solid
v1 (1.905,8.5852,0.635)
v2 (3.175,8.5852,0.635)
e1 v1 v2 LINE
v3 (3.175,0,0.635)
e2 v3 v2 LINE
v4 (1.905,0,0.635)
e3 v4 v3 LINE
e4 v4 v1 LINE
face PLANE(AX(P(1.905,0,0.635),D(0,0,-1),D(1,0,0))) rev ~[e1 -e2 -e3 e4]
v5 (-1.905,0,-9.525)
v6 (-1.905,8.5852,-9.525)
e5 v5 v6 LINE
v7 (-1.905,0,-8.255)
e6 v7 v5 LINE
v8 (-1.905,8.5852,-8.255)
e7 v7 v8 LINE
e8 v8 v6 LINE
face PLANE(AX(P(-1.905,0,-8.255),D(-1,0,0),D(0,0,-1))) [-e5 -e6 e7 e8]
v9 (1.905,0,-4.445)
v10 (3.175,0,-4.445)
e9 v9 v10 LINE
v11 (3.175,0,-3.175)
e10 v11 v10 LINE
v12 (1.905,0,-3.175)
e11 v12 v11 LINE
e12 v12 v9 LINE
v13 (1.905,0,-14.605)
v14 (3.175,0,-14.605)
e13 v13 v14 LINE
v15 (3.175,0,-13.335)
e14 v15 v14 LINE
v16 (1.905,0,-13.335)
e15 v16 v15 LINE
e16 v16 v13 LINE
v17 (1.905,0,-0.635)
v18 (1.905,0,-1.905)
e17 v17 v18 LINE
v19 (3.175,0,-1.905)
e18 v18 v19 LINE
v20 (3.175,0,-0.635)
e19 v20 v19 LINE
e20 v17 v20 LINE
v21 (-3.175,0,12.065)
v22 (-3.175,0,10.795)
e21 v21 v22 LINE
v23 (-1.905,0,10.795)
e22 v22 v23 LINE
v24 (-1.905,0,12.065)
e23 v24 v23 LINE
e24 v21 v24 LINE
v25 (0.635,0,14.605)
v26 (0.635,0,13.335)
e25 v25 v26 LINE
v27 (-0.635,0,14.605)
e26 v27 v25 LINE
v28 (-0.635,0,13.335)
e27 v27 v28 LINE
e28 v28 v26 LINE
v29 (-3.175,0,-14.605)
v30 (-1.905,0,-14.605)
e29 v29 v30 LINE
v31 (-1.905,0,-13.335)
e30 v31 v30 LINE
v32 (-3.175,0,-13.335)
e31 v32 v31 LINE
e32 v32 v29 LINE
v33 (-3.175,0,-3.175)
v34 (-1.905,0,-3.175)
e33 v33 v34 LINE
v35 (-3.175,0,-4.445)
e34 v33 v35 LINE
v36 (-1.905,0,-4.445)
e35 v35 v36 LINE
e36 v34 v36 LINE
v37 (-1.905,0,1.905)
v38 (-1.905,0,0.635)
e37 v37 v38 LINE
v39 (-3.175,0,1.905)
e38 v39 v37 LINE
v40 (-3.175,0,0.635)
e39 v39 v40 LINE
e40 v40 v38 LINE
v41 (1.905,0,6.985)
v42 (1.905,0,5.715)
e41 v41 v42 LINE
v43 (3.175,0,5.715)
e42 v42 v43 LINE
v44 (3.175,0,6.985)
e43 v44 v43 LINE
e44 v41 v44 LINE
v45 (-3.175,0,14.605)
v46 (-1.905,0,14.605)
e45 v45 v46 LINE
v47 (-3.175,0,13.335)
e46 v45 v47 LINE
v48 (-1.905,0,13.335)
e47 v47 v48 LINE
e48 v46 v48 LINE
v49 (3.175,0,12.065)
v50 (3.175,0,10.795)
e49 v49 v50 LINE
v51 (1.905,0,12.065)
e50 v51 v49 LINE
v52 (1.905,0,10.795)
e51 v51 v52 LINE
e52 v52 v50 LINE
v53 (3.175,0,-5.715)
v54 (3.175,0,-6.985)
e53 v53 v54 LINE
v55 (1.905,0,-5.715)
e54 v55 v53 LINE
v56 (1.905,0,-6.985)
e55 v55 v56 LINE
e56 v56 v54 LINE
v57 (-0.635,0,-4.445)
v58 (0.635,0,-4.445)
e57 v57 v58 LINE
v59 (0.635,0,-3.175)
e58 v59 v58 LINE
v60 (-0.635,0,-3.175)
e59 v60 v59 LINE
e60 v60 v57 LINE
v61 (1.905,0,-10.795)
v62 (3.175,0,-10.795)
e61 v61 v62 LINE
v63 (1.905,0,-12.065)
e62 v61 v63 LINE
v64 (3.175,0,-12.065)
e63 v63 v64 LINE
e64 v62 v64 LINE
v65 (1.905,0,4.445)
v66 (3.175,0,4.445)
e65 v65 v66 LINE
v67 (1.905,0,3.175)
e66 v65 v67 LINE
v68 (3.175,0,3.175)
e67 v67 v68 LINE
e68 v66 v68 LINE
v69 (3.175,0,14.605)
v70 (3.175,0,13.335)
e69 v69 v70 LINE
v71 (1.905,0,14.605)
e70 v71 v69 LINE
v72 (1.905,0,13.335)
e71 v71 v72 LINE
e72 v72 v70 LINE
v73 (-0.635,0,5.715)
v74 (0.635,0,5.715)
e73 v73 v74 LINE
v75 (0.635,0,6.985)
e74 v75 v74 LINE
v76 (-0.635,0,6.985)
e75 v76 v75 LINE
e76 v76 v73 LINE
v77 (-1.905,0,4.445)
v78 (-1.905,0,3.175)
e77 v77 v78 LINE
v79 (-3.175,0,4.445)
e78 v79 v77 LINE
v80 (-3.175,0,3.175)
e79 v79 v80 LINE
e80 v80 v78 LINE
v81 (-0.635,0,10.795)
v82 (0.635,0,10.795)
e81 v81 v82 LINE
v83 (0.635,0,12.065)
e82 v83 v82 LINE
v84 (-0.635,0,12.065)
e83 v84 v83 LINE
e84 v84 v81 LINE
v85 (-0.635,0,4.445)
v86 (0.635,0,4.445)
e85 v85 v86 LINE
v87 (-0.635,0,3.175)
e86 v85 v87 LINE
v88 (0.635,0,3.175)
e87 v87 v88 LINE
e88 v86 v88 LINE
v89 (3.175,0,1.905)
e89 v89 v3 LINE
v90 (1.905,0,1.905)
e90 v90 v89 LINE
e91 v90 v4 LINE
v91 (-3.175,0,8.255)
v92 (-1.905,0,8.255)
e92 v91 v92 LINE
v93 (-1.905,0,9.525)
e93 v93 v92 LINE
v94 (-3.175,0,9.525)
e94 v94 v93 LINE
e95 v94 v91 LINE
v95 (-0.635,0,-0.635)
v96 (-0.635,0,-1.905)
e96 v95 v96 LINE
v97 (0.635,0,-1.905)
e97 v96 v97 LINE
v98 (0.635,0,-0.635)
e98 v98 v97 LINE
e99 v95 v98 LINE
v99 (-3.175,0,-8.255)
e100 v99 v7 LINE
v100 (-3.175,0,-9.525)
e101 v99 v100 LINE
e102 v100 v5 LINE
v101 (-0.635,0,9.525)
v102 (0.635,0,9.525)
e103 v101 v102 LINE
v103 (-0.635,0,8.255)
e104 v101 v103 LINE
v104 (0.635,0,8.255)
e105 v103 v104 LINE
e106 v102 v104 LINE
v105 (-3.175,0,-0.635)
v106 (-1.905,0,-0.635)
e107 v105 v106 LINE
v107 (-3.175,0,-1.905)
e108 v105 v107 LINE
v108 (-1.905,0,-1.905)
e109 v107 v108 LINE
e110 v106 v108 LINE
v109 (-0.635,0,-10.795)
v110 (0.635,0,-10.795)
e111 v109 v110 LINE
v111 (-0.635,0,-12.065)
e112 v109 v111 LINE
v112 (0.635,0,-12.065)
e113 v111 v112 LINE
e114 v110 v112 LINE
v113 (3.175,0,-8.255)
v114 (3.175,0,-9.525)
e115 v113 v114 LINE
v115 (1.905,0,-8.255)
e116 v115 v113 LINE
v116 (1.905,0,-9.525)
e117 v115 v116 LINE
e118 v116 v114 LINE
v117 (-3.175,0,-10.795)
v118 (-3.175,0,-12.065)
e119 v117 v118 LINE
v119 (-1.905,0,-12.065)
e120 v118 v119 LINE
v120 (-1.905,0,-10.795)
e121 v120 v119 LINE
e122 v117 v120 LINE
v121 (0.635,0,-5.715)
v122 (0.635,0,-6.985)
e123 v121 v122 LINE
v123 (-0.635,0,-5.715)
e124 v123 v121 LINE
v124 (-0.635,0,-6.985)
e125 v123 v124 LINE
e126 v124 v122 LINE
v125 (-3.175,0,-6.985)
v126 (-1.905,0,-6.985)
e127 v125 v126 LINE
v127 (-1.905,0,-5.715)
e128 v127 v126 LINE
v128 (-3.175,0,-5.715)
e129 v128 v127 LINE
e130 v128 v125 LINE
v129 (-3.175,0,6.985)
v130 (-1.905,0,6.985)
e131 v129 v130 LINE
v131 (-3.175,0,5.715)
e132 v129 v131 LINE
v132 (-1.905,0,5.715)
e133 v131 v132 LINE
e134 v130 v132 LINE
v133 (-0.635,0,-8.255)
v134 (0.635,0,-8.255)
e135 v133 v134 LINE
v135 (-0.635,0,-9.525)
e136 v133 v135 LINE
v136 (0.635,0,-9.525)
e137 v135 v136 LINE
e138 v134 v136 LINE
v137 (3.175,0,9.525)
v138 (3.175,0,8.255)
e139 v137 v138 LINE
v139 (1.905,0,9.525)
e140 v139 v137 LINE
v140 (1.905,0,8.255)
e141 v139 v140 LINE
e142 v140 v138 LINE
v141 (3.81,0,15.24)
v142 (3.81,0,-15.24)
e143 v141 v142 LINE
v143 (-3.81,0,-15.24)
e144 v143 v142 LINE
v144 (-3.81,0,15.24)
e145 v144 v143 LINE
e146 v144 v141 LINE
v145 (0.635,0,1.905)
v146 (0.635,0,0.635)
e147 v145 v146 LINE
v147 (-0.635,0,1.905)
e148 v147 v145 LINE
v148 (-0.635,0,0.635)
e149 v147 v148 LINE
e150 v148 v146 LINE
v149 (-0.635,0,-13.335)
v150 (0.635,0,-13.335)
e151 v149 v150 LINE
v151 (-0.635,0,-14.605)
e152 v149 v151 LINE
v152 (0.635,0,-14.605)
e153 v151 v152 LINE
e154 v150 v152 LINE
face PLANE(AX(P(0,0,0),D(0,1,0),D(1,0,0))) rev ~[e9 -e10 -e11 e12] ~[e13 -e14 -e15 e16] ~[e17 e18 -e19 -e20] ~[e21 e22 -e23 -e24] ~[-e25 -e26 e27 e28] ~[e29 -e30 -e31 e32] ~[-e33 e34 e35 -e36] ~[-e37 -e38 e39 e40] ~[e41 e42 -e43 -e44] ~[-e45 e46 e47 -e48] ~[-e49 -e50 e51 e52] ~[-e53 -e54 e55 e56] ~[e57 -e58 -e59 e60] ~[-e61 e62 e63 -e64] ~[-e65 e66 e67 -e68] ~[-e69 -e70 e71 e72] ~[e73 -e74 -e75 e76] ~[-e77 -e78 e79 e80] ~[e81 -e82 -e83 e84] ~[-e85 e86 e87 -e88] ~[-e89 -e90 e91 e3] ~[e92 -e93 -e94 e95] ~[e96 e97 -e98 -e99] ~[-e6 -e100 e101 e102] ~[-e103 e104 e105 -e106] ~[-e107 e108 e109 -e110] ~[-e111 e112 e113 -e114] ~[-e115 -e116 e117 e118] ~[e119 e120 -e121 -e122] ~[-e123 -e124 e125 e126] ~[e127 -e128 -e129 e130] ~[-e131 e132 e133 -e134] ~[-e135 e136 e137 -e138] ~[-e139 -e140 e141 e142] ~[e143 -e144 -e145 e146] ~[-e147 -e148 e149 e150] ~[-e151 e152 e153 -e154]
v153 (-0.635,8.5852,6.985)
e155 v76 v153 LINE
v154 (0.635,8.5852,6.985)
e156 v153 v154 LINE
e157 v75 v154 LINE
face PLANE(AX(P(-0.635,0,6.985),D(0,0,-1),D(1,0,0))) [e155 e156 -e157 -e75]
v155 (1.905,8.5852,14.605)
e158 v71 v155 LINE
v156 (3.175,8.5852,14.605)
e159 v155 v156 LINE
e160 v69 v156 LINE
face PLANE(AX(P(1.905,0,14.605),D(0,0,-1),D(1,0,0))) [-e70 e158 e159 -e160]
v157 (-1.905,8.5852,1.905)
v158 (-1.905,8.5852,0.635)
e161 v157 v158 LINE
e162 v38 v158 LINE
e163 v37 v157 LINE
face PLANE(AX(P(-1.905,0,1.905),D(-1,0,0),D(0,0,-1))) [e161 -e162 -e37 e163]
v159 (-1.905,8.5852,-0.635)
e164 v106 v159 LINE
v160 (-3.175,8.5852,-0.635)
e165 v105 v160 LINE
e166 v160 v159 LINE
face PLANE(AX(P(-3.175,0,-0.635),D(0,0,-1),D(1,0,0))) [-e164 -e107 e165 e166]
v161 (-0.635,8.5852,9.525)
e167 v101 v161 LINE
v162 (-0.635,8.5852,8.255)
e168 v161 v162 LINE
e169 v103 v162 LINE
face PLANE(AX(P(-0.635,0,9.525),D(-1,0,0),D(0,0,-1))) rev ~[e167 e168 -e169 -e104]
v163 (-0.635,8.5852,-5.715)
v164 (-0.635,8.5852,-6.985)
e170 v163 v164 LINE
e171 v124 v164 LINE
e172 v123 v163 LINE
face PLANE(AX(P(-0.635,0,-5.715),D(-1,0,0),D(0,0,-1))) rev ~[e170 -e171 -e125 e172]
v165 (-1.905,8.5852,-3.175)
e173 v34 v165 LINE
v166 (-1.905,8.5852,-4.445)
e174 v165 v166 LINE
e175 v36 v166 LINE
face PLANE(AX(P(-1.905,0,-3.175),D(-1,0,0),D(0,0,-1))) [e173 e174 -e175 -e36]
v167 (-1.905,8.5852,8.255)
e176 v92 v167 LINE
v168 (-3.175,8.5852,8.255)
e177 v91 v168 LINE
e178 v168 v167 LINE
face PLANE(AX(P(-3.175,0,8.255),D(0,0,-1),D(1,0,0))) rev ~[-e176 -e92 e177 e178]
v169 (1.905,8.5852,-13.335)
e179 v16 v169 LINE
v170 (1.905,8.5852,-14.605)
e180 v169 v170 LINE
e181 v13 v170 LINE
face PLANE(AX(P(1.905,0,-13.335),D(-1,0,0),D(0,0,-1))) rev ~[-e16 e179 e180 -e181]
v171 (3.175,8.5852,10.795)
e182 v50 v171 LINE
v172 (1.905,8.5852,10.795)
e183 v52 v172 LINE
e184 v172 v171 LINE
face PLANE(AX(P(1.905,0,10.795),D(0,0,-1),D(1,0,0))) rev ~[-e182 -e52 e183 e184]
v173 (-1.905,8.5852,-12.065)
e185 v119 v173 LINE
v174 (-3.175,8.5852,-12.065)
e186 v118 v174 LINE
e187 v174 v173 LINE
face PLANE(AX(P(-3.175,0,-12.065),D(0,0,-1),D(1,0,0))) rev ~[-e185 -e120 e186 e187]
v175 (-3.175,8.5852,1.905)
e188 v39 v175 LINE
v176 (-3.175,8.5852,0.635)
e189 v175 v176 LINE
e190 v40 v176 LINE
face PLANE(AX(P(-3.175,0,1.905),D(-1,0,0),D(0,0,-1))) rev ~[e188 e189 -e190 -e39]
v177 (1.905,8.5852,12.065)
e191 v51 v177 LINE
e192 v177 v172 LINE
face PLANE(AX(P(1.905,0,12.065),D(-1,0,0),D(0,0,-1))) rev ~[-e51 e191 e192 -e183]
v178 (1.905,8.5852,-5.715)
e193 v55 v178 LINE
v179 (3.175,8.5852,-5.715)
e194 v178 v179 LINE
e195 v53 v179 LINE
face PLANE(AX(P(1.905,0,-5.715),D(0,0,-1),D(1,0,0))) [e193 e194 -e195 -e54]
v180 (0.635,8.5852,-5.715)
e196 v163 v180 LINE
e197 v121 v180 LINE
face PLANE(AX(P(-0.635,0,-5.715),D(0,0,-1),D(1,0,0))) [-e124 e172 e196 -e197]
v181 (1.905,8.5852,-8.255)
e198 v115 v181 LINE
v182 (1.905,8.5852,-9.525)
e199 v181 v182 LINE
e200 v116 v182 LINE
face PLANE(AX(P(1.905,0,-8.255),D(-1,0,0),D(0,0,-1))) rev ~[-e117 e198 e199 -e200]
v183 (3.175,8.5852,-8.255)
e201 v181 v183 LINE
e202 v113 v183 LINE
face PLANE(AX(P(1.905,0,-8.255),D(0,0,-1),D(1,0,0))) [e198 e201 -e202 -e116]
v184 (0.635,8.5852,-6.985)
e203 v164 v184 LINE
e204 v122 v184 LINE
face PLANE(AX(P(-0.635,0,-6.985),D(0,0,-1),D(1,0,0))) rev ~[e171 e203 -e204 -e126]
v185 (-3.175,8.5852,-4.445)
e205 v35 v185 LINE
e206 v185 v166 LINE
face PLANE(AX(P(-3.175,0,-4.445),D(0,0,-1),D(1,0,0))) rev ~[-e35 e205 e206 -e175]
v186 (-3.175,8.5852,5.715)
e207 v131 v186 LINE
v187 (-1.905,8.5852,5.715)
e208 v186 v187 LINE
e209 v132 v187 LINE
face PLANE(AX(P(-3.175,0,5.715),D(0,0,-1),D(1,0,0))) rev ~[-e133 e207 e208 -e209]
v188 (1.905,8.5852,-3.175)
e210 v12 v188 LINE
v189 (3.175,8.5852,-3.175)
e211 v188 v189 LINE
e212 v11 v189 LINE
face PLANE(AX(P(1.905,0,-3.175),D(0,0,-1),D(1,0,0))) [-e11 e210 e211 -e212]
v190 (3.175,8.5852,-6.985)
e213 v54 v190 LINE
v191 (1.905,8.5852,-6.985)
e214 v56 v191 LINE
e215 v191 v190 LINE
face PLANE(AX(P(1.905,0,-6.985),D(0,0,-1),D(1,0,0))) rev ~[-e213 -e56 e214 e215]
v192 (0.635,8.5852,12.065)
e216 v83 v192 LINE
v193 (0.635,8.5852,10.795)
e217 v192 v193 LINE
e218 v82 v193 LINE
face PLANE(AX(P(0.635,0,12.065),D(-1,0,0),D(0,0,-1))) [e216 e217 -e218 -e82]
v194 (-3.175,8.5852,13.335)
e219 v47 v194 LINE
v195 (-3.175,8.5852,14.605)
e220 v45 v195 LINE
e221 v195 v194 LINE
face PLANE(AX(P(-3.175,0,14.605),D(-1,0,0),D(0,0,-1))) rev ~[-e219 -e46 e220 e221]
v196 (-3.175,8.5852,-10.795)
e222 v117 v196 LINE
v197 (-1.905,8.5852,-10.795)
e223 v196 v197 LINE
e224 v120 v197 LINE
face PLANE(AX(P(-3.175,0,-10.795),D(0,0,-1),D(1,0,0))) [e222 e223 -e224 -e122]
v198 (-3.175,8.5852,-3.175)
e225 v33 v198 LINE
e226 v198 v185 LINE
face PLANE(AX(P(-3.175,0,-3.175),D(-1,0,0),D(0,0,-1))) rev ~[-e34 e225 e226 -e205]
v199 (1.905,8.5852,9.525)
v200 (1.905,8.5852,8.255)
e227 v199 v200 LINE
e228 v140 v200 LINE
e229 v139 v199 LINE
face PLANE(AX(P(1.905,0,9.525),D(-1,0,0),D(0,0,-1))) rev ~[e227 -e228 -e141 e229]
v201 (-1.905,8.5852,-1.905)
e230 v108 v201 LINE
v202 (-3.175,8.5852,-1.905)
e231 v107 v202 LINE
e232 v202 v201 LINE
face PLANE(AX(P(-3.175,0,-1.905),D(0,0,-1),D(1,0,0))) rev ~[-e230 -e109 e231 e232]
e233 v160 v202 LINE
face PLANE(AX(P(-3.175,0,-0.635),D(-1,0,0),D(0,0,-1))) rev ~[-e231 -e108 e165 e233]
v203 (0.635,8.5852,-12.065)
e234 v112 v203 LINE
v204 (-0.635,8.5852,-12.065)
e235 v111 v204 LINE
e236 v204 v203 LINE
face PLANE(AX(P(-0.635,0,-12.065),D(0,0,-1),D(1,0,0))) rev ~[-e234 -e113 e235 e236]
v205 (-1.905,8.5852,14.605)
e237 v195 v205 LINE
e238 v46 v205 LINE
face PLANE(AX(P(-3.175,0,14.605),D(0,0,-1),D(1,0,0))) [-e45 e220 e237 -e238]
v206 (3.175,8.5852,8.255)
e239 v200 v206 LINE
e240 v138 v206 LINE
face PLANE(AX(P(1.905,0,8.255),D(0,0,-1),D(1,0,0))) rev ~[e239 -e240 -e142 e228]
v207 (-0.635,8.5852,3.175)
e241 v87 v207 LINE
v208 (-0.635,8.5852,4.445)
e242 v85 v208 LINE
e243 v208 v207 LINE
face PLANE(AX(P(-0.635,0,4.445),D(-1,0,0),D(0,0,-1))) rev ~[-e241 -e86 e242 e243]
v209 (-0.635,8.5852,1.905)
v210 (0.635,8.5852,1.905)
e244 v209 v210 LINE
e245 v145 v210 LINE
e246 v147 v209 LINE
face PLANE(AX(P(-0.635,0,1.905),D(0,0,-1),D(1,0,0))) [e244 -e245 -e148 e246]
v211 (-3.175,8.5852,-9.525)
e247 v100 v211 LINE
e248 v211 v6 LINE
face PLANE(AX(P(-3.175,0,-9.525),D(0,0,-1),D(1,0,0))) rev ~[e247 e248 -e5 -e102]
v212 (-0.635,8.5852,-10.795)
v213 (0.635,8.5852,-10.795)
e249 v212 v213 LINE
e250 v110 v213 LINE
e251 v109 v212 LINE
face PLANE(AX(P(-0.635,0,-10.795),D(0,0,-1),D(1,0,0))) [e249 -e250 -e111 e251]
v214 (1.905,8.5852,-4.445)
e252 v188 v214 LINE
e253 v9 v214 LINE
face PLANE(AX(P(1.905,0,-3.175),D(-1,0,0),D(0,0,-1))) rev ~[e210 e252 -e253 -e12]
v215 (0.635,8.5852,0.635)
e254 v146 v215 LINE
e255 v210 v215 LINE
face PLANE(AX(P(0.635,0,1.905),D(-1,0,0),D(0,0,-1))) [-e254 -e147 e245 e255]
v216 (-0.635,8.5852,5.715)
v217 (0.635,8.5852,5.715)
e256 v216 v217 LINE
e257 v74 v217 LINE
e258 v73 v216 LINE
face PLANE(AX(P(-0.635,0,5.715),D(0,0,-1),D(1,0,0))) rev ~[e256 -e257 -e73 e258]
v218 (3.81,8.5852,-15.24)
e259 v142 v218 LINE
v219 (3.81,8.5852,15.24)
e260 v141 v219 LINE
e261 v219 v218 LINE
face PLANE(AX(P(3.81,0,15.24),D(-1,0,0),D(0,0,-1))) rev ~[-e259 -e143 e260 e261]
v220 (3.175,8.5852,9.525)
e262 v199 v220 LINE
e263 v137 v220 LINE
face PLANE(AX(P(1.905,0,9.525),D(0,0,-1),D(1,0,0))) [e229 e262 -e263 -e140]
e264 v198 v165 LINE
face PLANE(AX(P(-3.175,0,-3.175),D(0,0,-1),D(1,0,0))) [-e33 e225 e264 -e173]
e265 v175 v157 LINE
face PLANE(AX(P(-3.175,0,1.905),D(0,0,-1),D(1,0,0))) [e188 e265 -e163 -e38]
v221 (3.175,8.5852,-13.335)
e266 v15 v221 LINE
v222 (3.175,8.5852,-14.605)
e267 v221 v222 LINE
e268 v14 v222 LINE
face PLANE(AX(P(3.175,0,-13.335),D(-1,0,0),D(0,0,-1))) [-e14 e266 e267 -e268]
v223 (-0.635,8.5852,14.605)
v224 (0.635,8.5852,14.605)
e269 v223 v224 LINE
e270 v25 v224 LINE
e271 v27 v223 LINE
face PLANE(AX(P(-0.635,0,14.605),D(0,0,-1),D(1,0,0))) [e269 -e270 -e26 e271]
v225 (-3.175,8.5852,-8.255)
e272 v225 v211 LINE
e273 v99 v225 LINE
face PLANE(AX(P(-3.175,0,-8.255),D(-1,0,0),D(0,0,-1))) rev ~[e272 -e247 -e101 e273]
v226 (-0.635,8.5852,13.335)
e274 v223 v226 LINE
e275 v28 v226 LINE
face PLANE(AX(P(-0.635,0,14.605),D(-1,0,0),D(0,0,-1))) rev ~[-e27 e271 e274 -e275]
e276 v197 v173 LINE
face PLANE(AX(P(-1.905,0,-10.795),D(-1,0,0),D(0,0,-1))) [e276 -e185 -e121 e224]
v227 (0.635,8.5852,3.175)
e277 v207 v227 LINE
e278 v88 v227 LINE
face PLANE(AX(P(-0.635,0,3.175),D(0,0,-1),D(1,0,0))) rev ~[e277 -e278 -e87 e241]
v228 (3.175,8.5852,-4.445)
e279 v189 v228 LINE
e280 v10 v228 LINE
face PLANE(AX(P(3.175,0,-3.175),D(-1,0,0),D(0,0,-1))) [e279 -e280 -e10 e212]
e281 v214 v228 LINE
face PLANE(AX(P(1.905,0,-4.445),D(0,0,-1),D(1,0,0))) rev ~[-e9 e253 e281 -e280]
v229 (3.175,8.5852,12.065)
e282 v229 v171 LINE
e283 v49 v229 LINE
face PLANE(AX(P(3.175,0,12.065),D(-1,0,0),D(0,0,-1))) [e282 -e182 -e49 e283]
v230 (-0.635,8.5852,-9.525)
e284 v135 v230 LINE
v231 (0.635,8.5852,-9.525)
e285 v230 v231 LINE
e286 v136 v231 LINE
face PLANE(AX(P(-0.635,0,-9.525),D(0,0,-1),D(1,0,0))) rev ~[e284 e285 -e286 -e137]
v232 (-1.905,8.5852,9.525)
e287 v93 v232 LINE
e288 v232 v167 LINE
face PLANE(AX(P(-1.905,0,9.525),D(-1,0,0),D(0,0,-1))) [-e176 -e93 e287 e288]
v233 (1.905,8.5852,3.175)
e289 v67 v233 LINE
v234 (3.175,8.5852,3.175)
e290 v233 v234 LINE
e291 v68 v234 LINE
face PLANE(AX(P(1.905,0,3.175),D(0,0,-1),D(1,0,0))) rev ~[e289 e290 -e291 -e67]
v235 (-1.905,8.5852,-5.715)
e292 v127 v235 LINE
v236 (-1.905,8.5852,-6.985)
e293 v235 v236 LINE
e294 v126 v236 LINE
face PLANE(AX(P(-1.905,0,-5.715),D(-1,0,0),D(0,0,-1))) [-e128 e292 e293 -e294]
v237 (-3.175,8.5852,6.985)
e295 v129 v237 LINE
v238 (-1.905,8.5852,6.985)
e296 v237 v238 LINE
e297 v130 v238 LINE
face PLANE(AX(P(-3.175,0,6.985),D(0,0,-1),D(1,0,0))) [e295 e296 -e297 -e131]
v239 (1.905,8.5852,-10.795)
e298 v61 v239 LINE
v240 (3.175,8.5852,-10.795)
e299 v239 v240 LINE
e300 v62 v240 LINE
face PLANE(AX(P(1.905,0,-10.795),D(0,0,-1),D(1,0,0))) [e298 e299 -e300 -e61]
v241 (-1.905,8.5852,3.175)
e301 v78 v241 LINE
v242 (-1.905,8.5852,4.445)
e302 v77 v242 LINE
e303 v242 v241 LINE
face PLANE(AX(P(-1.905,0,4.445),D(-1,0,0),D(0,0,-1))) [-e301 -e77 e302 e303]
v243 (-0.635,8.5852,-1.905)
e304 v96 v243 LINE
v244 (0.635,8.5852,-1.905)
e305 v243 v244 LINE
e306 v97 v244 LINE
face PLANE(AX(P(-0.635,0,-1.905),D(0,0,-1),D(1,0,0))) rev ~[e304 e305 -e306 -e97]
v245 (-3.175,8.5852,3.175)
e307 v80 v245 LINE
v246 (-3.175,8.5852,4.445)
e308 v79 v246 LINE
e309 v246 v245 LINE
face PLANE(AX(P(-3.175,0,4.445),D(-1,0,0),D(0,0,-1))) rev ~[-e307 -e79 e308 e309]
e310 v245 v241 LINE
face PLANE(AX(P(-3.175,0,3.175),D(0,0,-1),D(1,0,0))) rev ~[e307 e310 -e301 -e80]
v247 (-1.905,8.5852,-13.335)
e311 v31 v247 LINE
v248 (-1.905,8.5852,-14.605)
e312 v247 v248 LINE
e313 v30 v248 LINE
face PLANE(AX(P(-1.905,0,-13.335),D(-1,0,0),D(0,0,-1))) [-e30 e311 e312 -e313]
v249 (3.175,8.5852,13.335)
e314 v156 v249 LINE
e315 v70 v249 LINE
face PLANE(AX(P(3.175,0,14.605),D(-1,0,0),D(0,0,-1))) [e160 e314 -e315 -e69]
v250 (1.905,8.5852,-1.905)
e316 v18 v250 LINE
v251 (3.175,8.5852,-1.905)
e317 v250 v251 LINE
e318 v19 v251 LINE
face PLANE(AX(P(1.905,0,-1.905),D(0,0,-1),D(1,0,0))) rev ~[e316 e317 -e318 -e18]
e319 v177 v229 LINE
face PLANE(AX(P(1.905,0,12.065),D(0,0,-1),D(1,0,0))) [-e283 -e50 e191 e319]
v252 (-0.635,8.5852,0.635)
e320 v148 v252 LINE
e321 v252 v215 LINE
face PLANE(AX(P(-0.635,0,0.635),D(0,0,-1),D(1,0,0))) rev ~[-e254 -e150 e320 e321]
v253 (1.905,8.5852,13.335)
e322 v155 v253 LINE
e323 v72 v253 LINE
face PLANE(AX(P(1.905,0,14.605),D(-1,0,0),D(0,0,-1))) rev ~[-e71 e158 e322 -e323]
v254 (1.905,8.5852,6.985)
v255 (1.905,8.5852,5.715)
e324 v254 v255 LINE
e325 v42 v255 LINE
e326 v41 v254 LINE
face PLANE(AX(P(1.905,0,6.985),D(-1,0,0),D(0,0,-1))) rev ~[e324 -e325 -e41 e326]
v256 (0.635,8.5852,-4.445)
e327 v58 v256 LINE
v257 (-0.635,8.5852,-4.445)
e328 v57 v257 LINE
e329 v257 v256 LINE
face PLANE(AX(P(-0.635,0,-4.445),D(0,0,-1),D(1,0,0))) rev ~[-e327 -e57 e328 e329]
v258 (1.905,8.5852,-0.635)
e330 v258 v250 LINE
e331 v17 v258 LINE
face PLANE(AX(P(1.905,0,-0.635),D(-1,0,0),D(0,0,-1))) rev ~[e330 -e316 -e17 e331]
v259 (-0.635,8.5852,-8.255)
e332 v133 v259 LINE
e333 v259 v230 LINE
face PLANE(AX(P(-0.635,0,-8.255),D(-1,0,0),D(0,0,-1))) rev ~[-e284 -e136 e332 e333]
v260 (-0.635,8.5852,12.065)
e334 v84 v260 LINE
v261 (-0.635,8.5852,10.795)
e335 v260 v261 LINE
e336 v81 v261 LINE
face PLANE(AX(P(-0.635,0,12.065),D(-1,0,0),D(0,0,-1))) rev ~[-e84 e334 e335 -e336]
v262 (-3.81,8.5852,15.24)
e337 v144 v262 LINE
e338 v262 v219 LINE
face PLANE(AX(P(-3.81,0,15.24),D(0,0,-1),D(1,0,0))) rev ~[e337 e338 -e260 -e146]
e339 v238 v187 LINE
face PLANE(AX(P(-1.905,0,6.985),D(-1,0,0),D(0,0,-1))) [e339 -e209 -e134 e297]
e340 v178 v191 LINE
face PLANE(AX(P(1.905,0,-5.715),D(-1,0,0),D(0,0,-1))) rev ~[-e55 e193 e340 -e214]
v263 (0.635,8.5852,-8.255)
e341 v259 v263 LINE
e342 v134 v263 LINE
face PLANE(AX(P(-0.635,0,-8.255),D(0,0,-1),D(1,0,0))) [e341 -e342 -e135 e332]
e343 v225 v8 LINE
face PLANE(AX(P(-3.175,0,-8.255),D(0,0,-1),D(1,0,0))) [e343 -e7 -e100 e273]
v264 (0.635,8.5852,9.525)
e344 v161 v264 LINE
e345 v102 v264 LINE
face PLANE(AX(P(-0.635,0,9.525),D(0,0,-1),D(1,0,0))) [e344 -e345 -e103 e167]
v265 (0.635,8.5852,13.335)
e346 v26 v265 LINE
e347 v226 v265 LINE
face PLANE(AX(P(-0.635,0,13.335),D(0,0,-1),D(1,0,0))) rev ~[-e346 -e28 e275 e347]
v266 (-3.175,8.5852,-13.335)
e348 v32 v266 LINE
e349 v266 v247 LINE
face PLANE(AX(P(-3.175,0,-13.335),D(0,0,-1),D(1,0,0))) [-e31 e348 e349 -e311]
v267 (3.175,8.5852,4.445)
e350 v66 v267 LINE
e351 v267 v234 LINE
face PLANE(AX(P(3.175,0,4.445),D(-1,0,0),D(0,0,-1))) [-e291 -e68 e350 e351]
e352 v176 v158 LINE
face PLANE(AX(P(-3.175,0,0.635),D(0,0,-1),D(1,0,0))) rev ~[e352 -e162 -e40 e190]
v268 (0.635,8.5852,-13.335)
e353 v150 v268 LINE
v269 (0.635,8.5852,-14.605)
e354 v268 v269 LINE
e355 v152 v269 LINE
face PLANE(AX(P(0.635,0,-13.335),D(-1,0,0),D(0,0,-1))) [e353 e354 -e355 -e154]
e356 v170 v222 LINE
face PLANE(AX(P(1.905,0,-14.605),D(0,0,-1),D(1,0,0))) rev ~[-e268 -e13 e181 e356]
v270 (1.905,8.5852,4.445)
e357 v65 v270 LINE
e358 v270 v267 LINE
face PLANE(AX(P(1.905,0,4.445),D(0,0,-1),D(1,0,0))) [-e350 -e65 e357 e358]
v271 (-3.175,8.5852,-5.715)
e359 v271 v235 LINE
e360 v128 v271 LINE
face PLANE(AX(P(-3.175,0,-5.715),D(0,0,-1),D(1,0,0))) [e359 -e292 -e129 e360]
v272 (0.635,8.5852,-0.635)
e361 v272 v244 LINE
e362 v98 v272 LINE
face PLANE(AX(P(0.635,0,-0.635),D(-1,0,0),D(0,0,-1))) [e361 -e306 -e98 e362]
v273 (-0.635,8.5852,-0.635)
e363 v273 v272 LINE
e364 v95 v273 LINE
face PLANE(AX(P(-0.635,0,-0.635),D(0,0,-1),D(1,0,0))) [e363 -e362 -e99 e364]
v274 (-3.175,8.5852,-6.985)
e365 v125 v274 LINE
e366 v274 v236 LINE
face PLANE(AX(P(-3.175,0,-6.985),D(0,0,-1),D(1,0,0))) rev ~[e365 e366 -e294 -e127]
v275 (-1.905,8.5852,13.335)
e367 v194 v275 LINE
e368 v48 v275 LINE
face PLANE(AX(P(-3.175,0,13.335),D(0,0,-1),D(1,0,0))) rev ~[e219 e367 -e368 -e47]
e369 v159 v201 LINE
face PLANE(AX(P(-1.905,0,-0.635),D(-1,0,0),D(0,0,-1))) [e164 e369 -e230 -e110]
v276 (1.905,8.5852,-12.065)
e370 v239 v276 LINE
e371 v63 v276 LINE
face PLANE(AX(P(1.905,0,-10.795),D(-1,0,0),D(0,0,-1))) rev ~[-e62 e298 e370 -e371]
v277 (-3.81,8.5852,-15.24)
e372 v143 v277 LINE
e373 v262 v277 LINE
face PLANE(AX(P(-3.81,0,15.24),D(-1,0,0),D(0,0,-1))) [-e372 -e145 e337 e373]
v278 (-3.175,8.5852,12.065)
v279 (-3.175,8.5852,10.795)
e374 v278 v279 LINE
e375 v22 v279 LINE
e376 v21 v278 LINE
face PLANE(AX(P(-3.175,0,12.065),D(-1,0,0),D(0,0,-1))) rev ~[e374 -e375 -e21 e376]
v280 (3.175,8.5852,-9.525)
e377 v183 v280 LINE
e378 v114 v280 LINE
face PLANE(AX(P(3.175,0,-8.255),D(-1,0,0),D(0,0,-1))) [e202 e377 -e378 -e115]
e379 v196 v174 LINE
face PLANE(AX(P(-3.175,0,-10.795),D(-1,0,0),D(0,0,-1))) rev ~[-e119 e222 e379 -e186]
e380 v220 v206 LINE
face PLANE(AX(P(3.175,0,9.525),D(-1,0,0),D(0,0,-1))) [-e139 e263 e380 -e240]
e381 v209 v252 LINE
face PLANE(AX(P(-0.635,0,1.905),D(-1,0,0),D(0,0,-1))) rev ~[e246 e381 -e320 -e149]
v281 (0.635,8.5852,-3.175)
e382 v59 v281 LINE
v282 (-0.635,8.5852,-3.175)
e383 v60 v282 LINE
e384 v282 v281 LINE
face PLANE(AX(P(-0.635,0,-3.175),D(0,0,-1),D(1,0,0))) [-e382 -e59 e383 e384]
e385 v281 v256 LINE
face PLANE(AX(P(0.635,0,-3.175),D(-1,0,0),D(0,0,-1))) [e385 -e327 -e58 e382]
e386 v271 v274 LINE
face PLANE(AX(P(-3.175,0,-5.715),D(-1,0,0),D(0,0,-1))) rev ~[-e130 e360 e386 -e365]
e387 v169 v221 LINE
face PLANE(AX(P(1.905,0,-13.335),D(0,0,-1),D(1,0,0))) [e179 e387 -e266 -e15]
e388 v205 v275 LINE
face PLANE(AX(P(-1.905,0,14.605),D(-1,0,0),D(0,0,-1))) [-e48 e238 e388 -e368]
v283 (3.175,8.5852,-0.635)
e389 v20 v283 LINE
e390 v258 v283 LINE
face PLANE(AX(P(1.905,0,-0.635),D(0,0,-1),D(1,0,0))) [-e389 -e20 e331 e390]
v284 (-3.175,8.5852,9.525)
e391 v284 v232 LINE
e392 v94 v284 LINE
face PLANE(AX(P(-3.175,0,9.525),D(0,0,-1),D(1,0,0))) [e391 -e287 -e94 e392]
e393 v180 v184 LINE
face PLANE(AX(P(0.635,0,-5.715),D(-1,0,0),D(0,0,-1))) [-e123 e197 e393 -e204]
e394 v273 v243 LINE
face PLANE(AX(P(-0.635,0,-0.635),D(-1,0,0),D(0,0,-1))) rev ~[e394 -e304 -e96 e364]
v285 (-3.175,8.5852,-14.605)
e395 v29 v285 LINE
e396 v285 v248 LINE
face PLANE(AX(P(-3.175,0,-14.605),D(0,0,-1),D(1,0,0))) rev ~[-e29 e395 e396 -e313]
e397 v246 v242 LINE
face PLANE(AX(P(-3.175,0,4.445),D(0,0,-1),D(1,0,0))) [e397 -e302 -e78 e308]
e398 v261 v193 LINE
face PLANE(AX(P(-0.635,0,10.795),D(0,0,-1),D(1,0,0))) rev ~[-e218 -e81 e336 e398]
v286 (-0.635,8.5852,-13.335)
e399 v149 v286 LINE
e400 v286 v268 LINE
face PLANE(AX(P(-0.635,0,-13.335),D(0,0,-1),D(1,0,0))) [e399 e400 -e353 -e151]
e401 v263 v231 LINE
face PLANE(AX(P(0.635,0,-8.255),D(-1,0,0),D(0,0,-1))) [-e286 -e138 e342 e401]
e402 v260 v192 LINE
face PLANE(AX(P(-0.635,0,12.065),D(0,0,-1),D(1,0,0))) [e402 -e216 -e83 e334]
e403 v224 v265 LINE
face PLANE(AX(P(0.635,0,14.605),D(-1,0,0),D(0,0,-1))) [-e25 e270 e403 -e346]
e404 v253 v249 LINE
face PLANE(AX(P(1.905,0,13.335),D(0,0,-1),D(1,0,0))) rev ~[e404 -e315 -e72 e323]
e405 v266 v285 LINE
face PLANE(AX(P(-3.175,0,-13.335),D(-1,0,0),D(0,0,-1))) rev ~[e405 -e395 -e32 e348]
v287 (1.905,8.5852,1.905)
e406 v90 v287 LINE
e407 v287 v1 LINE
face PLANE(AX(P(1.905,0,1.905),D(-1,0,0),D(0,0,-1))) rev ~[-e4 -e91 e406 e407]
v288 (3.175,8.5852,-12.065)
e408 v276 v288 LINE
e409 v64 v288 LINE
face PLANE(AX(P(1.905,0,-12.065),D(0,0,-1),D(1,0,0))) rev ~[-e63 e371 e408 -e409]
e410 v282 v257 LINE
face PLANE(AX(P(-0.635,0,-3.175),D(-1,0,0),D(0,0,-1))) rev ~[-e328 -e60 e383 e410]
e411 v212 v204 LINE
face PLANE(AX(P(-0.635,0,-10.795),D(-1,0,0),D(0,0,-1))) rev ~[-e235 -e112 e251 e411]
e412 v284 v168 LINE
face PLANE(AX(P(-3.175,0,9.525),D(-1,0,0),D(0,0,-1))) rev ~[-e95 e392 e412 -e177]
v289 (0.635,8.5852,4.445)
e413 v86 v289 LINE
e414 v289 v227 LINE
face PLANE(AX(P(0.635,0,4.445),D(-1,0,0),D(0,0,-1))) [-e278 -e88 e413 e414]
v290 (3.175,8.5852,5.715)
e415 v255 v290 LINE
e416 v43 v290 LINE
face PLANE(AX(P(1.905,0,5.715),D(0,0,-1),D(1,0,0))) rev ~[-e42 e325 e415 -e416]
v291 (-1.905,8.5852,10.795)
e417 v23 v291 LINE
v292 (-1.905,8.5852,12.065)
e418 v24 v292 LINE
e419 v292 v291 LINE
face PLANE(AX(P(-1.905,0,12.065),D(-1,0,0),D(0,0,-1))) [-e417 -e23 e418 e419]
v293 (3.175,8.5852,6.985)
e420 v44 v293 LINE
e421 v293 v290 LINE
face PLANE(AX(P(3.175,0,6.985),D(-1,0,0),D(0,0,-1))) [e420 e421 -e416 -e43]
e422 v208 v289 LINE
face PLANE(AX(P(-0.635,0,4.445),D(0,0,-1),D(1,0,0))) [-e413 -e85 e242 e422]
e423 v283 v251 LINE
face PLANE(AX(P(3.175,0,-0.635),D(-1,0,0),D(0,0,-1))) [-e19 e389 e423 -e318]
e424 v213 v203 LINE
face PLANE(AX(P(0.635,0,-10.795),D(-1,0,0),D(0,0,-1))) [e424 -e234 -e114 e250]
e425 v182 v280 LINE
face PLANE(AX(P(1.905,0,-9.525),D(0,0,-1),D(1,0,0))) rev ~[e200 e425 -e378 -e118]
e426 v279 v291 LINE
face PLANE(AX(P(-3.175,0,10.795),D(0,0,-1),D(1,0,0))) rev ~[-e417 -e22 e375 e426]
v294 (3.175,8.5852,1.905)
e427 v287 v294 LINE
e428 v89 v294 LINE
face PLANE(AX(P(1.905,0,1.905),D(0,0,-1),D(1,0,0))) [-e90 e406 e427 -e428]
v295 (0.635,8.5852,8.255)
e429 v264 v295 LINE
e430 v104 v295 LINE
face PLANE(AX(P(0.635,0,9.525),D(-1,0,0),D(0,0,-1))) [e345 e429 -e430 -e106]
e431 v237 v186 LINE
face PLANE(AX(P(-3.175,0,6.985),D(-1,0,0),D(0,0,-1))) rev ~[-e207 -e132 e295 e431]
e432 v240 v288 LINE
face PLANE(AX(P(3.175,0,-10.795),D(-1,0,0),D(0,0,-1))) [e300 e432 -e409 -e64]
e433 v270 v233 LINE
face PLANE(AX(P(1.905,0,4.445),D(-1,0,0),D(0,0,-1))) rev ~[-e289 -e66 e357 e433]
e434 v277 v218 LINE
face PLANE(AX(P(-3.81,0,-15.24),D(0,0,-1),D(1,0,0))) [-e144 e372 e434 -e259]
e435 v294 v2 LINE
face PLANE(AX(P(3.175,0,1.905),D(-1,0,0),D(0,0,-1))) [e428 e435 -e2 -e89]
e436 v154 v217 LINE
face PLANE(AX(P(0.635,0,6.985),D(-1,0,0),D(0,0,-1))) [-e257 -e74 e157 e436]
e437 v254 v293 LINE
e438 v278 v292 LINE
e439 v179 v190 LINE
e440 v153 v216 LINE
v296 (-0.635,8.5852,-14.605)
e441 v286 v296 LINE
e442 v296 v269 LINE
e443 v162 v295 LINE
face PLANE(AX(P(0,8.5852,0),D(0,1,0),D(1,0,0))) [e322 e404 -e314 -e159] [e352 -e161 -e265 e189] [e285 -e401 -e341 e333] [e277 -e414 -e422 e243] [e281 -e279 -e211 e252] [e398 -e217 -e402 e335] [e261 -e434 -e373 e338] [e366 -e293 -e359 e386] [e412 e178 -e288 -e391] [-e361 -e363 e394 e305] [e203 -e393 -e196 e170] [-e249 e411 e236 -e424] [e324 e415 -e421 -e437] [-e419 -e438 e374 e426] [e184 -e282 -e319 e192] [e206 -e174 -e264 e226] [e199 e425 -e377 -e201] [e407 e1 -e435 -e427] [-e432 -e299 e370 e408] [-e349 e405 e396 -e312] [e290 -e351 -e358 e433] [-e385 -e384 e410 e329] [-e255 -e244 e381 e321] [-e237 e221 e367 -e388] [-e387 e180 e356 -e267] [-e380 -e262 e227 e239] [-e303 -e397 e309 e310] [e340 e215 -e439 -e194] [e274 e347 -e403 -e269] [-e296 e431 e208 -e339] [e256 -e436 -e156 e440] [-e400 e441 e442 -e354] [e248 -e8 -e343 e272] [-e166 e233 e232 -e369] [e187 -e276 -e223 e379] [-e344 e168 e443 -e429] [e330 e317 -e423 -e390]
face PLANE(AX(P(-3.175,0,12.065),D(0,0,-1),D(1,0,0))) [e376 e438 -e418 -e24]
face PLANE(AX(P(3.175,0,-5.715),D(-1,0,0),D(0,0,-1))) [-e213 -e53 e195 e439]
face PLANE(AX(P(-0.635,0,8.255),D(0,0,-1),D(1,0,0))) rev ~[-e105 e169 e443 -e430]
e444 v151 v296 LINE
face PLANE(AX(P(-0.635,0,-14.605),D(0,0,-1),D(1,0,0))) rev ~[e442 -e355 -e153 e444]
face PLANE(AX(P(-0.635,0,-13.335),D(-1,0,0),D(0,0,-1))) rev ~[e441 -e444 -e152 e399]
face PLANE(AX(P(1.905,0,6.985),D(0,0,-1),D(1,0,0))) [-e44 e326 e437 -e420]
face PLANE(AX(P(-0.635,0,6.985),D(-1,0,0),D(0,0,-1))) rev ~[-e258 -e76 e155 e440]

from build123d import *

# Parameters (mm, degrees)
SKETCH1_W           = 7.62
SKETCH1_H           = 30.48
SKETCH1_W_2         = 1.27
SKETCH1_H_2         = 1.27
BOSS_EXTRUDE1_DEPTH = 8.5852


with BuildPart() as part:
    # Sketch1 → Boss-Extrude1 (new body)
    with BuildSketch(Plane(origin=(0, 0, 0), x_dir=(1, 0, 0), z_dir=(0, 1, 0))):
        Rectangle(SKETCH1_W, SKETCH1_H)
        with Locations((-2.54, 13.97)):
            Rectangle(SKETCH1_W_2, SKETCH1_H_2, mode=Mode.SUBTRACT)
        with Locations((0, 13.97)):
            Rectangle(SKETCH1_W_2, SKETCH1_H_2, mode=Mode.SUBTRACT)
        with Locations((2.54, 13.97)):
            Rectangle(SKETCH1_W_2, SKETCH1_H_2, mode=Mode.SUBTRACT)
        with Locations((-2.54, 11.43)):
            Rectangle(SKETCH1_W_2, SKETCH1_H_2, mode=Mode.SUBTRACT)
        with Locations((0, 11.43)):
            Rectangle(SKETCH1_W_2, SKETCH1_H_2, mode=Mode.SUBTRACT)
        with Locations((2.54, 11.43)):
            Rectangle(SKETCH1_W_2, SKETCH1_H_2, mode=Mode.SUBTRACT)
        with Locations((-2.54, 8.89)):
            Rectangle(SKETCH1_W_2, SKETCH1_H_2, mode=Mode.SUBTRACT)
        with Locations((0, 8.89)):
            Rectangle(SKETCH1_W_2, SKETCH1_H_2, mode=Mode.SUBTRACT)
        with Locations((2.54, 8.89)):
            Rectangle(SKETCH1_W_2, SKETCH1_H_2, mode=Mode.SUBTRACT)
        with Locations((-2.54, 6.35)):
            Rectangle(SKETCH1_W_2, SKETCH1_H_2, mode=Mode.SUBTRACT)
        with Locations((0, 6.35)):
            Rectangle(SKETCH1_W_2, SKETCH1_H_2, mode=Mode.SUBTRACT)
        with Locations((2.54, 6.35)):
            Rectangle(SKETCH1_W_2, SKETCH1_H_2, mode=Mode.SUBTRACT)
        with Locations((-2.54, 3.81)):
            Rectangle(SKETCH1_W_2, SKETCH1_H_2, mode=Mode.SUBTRACT)
        with Locations((0, 3.81)):
            Rectangle(SKETCH1_W_2, SKETCH1_H_2, mode=Mode.SUBTRACT)
        with Locations((2.54, 3.81)):
            Rectangle(SKETCH1_W_2, SKETCH1_H_2, mode=Mode.SUBTRACT)
        with Locations((-2.54, 1.27)):
            Rectangle(SKETCH1_W_2, SKETCH1_H_2, mode=Mode.SUBTRACT)
        with Locations((0, 1.27)):
            Rectangle(SKETCH1_W_2, SKETCH1_H_2, mode=Mode.SUBTRACT)
        with Locations((2.54, 1.27)):
            Rectangle(SKETCH1_W_2, SKETCH1_H_2, mode=Mode.SUBTRACT)
        with Locations((-2.54, -1.27)):
            Rectangle(SKETCH1_W_2, SKETCH1_H_2, mode=Mode.SUBTRACT)
        with Locations((0, -1.27)):
            Rectangle(SKETCH1_W_2, SKETCH1_H_2, mode=Mode.SUBTRACT)
        with Locations((2.54, -1.27)):
            Rectangle(SKETCH1_W_2, SKETCH1_H_2, mode=Mode.SUBTRACT)
        with Locations((-2.54, -3.81)):
            Rectangle(SKETCH1_W_2, SKETCH1_H_2, mode=Mode.SUBTRACT)
        with Locations((0, -3.81)):
            Rectangle(SKETCH1_W_2, SKETCH1_H_2, mode=Mode.SUBTRACT)
        with Locations((2.54, -3.81)):
            Rectangle(SKETCH1_W_2, SKETCH1_H_2, mode=Mode.SUBTRACT)
        with Locations((-2.54, -6.35)):
            Rectangle(SKETCH1_W_2, SKETCH1_H_2, mode=Mode.SUBTRACT)
        with Locations((0, -6.35)):
            Rectangle(SKETCH1_W_2, SKETCH1_H_2, mode=Mode.SUBTRACT)
        with Locations((2.54, -6.35)):
            Rectangle(SKETCH1_W_2, SKETCH1_H_2, mode=Mode.SUBTRACT)
        with Locations((-2.54, -8.89)):
            Rectangle(SKETCH1_W_2, SKETCH1_H_2, mode=Mode.SUBTRACT)
        with Locations((0, -8.89)):
            Rectangle(SKETCH1_W_2, SKETCH1_H_2, mode=Mode.SUBTRACT)
        with Locations((2.54, -8.89)):
            Rectangle(SKETCH1_W_2, SKETCH1_H_2, mode=Mode.SUBTRACT)
        with Locations((-2.54, -11.43)):
            Rectangle(SKETCH1_W_2, SKETCH1_H_2, mode=Mode.SUBTRACT)
        with Locations((0, -11.43)):
            Rectangle(SKETCH1_W_2, SKETCH1_H_2, mode=Mode.SUBTRACT)
        with Locations((2.54, -11.43)):
            Rectangle(SKETCH1_W_2, SKETCH1_H_2, mode=Mode.SUBTRACT)
        with Locations((-2.54, -13.97)):
            Rectangle(SKETCH1_W_2, SKETCH1_H_2, mode=Mode.SUBTRACT)
        with Locations((0, -13.97)):
            Rectangle(SKETCH1_W_2, SKETCH1_H_2, mode=Mode.SUBTRACT)
        with Locations((2.54, -13.97)):
            Rectangle(SKETCH1_W_2, SKETCH1_H_2, mode=Mode.SUBTRACT)
    extrude(amount=BOSS_EXTRUDE1_DEPTH)


solid = part.part
